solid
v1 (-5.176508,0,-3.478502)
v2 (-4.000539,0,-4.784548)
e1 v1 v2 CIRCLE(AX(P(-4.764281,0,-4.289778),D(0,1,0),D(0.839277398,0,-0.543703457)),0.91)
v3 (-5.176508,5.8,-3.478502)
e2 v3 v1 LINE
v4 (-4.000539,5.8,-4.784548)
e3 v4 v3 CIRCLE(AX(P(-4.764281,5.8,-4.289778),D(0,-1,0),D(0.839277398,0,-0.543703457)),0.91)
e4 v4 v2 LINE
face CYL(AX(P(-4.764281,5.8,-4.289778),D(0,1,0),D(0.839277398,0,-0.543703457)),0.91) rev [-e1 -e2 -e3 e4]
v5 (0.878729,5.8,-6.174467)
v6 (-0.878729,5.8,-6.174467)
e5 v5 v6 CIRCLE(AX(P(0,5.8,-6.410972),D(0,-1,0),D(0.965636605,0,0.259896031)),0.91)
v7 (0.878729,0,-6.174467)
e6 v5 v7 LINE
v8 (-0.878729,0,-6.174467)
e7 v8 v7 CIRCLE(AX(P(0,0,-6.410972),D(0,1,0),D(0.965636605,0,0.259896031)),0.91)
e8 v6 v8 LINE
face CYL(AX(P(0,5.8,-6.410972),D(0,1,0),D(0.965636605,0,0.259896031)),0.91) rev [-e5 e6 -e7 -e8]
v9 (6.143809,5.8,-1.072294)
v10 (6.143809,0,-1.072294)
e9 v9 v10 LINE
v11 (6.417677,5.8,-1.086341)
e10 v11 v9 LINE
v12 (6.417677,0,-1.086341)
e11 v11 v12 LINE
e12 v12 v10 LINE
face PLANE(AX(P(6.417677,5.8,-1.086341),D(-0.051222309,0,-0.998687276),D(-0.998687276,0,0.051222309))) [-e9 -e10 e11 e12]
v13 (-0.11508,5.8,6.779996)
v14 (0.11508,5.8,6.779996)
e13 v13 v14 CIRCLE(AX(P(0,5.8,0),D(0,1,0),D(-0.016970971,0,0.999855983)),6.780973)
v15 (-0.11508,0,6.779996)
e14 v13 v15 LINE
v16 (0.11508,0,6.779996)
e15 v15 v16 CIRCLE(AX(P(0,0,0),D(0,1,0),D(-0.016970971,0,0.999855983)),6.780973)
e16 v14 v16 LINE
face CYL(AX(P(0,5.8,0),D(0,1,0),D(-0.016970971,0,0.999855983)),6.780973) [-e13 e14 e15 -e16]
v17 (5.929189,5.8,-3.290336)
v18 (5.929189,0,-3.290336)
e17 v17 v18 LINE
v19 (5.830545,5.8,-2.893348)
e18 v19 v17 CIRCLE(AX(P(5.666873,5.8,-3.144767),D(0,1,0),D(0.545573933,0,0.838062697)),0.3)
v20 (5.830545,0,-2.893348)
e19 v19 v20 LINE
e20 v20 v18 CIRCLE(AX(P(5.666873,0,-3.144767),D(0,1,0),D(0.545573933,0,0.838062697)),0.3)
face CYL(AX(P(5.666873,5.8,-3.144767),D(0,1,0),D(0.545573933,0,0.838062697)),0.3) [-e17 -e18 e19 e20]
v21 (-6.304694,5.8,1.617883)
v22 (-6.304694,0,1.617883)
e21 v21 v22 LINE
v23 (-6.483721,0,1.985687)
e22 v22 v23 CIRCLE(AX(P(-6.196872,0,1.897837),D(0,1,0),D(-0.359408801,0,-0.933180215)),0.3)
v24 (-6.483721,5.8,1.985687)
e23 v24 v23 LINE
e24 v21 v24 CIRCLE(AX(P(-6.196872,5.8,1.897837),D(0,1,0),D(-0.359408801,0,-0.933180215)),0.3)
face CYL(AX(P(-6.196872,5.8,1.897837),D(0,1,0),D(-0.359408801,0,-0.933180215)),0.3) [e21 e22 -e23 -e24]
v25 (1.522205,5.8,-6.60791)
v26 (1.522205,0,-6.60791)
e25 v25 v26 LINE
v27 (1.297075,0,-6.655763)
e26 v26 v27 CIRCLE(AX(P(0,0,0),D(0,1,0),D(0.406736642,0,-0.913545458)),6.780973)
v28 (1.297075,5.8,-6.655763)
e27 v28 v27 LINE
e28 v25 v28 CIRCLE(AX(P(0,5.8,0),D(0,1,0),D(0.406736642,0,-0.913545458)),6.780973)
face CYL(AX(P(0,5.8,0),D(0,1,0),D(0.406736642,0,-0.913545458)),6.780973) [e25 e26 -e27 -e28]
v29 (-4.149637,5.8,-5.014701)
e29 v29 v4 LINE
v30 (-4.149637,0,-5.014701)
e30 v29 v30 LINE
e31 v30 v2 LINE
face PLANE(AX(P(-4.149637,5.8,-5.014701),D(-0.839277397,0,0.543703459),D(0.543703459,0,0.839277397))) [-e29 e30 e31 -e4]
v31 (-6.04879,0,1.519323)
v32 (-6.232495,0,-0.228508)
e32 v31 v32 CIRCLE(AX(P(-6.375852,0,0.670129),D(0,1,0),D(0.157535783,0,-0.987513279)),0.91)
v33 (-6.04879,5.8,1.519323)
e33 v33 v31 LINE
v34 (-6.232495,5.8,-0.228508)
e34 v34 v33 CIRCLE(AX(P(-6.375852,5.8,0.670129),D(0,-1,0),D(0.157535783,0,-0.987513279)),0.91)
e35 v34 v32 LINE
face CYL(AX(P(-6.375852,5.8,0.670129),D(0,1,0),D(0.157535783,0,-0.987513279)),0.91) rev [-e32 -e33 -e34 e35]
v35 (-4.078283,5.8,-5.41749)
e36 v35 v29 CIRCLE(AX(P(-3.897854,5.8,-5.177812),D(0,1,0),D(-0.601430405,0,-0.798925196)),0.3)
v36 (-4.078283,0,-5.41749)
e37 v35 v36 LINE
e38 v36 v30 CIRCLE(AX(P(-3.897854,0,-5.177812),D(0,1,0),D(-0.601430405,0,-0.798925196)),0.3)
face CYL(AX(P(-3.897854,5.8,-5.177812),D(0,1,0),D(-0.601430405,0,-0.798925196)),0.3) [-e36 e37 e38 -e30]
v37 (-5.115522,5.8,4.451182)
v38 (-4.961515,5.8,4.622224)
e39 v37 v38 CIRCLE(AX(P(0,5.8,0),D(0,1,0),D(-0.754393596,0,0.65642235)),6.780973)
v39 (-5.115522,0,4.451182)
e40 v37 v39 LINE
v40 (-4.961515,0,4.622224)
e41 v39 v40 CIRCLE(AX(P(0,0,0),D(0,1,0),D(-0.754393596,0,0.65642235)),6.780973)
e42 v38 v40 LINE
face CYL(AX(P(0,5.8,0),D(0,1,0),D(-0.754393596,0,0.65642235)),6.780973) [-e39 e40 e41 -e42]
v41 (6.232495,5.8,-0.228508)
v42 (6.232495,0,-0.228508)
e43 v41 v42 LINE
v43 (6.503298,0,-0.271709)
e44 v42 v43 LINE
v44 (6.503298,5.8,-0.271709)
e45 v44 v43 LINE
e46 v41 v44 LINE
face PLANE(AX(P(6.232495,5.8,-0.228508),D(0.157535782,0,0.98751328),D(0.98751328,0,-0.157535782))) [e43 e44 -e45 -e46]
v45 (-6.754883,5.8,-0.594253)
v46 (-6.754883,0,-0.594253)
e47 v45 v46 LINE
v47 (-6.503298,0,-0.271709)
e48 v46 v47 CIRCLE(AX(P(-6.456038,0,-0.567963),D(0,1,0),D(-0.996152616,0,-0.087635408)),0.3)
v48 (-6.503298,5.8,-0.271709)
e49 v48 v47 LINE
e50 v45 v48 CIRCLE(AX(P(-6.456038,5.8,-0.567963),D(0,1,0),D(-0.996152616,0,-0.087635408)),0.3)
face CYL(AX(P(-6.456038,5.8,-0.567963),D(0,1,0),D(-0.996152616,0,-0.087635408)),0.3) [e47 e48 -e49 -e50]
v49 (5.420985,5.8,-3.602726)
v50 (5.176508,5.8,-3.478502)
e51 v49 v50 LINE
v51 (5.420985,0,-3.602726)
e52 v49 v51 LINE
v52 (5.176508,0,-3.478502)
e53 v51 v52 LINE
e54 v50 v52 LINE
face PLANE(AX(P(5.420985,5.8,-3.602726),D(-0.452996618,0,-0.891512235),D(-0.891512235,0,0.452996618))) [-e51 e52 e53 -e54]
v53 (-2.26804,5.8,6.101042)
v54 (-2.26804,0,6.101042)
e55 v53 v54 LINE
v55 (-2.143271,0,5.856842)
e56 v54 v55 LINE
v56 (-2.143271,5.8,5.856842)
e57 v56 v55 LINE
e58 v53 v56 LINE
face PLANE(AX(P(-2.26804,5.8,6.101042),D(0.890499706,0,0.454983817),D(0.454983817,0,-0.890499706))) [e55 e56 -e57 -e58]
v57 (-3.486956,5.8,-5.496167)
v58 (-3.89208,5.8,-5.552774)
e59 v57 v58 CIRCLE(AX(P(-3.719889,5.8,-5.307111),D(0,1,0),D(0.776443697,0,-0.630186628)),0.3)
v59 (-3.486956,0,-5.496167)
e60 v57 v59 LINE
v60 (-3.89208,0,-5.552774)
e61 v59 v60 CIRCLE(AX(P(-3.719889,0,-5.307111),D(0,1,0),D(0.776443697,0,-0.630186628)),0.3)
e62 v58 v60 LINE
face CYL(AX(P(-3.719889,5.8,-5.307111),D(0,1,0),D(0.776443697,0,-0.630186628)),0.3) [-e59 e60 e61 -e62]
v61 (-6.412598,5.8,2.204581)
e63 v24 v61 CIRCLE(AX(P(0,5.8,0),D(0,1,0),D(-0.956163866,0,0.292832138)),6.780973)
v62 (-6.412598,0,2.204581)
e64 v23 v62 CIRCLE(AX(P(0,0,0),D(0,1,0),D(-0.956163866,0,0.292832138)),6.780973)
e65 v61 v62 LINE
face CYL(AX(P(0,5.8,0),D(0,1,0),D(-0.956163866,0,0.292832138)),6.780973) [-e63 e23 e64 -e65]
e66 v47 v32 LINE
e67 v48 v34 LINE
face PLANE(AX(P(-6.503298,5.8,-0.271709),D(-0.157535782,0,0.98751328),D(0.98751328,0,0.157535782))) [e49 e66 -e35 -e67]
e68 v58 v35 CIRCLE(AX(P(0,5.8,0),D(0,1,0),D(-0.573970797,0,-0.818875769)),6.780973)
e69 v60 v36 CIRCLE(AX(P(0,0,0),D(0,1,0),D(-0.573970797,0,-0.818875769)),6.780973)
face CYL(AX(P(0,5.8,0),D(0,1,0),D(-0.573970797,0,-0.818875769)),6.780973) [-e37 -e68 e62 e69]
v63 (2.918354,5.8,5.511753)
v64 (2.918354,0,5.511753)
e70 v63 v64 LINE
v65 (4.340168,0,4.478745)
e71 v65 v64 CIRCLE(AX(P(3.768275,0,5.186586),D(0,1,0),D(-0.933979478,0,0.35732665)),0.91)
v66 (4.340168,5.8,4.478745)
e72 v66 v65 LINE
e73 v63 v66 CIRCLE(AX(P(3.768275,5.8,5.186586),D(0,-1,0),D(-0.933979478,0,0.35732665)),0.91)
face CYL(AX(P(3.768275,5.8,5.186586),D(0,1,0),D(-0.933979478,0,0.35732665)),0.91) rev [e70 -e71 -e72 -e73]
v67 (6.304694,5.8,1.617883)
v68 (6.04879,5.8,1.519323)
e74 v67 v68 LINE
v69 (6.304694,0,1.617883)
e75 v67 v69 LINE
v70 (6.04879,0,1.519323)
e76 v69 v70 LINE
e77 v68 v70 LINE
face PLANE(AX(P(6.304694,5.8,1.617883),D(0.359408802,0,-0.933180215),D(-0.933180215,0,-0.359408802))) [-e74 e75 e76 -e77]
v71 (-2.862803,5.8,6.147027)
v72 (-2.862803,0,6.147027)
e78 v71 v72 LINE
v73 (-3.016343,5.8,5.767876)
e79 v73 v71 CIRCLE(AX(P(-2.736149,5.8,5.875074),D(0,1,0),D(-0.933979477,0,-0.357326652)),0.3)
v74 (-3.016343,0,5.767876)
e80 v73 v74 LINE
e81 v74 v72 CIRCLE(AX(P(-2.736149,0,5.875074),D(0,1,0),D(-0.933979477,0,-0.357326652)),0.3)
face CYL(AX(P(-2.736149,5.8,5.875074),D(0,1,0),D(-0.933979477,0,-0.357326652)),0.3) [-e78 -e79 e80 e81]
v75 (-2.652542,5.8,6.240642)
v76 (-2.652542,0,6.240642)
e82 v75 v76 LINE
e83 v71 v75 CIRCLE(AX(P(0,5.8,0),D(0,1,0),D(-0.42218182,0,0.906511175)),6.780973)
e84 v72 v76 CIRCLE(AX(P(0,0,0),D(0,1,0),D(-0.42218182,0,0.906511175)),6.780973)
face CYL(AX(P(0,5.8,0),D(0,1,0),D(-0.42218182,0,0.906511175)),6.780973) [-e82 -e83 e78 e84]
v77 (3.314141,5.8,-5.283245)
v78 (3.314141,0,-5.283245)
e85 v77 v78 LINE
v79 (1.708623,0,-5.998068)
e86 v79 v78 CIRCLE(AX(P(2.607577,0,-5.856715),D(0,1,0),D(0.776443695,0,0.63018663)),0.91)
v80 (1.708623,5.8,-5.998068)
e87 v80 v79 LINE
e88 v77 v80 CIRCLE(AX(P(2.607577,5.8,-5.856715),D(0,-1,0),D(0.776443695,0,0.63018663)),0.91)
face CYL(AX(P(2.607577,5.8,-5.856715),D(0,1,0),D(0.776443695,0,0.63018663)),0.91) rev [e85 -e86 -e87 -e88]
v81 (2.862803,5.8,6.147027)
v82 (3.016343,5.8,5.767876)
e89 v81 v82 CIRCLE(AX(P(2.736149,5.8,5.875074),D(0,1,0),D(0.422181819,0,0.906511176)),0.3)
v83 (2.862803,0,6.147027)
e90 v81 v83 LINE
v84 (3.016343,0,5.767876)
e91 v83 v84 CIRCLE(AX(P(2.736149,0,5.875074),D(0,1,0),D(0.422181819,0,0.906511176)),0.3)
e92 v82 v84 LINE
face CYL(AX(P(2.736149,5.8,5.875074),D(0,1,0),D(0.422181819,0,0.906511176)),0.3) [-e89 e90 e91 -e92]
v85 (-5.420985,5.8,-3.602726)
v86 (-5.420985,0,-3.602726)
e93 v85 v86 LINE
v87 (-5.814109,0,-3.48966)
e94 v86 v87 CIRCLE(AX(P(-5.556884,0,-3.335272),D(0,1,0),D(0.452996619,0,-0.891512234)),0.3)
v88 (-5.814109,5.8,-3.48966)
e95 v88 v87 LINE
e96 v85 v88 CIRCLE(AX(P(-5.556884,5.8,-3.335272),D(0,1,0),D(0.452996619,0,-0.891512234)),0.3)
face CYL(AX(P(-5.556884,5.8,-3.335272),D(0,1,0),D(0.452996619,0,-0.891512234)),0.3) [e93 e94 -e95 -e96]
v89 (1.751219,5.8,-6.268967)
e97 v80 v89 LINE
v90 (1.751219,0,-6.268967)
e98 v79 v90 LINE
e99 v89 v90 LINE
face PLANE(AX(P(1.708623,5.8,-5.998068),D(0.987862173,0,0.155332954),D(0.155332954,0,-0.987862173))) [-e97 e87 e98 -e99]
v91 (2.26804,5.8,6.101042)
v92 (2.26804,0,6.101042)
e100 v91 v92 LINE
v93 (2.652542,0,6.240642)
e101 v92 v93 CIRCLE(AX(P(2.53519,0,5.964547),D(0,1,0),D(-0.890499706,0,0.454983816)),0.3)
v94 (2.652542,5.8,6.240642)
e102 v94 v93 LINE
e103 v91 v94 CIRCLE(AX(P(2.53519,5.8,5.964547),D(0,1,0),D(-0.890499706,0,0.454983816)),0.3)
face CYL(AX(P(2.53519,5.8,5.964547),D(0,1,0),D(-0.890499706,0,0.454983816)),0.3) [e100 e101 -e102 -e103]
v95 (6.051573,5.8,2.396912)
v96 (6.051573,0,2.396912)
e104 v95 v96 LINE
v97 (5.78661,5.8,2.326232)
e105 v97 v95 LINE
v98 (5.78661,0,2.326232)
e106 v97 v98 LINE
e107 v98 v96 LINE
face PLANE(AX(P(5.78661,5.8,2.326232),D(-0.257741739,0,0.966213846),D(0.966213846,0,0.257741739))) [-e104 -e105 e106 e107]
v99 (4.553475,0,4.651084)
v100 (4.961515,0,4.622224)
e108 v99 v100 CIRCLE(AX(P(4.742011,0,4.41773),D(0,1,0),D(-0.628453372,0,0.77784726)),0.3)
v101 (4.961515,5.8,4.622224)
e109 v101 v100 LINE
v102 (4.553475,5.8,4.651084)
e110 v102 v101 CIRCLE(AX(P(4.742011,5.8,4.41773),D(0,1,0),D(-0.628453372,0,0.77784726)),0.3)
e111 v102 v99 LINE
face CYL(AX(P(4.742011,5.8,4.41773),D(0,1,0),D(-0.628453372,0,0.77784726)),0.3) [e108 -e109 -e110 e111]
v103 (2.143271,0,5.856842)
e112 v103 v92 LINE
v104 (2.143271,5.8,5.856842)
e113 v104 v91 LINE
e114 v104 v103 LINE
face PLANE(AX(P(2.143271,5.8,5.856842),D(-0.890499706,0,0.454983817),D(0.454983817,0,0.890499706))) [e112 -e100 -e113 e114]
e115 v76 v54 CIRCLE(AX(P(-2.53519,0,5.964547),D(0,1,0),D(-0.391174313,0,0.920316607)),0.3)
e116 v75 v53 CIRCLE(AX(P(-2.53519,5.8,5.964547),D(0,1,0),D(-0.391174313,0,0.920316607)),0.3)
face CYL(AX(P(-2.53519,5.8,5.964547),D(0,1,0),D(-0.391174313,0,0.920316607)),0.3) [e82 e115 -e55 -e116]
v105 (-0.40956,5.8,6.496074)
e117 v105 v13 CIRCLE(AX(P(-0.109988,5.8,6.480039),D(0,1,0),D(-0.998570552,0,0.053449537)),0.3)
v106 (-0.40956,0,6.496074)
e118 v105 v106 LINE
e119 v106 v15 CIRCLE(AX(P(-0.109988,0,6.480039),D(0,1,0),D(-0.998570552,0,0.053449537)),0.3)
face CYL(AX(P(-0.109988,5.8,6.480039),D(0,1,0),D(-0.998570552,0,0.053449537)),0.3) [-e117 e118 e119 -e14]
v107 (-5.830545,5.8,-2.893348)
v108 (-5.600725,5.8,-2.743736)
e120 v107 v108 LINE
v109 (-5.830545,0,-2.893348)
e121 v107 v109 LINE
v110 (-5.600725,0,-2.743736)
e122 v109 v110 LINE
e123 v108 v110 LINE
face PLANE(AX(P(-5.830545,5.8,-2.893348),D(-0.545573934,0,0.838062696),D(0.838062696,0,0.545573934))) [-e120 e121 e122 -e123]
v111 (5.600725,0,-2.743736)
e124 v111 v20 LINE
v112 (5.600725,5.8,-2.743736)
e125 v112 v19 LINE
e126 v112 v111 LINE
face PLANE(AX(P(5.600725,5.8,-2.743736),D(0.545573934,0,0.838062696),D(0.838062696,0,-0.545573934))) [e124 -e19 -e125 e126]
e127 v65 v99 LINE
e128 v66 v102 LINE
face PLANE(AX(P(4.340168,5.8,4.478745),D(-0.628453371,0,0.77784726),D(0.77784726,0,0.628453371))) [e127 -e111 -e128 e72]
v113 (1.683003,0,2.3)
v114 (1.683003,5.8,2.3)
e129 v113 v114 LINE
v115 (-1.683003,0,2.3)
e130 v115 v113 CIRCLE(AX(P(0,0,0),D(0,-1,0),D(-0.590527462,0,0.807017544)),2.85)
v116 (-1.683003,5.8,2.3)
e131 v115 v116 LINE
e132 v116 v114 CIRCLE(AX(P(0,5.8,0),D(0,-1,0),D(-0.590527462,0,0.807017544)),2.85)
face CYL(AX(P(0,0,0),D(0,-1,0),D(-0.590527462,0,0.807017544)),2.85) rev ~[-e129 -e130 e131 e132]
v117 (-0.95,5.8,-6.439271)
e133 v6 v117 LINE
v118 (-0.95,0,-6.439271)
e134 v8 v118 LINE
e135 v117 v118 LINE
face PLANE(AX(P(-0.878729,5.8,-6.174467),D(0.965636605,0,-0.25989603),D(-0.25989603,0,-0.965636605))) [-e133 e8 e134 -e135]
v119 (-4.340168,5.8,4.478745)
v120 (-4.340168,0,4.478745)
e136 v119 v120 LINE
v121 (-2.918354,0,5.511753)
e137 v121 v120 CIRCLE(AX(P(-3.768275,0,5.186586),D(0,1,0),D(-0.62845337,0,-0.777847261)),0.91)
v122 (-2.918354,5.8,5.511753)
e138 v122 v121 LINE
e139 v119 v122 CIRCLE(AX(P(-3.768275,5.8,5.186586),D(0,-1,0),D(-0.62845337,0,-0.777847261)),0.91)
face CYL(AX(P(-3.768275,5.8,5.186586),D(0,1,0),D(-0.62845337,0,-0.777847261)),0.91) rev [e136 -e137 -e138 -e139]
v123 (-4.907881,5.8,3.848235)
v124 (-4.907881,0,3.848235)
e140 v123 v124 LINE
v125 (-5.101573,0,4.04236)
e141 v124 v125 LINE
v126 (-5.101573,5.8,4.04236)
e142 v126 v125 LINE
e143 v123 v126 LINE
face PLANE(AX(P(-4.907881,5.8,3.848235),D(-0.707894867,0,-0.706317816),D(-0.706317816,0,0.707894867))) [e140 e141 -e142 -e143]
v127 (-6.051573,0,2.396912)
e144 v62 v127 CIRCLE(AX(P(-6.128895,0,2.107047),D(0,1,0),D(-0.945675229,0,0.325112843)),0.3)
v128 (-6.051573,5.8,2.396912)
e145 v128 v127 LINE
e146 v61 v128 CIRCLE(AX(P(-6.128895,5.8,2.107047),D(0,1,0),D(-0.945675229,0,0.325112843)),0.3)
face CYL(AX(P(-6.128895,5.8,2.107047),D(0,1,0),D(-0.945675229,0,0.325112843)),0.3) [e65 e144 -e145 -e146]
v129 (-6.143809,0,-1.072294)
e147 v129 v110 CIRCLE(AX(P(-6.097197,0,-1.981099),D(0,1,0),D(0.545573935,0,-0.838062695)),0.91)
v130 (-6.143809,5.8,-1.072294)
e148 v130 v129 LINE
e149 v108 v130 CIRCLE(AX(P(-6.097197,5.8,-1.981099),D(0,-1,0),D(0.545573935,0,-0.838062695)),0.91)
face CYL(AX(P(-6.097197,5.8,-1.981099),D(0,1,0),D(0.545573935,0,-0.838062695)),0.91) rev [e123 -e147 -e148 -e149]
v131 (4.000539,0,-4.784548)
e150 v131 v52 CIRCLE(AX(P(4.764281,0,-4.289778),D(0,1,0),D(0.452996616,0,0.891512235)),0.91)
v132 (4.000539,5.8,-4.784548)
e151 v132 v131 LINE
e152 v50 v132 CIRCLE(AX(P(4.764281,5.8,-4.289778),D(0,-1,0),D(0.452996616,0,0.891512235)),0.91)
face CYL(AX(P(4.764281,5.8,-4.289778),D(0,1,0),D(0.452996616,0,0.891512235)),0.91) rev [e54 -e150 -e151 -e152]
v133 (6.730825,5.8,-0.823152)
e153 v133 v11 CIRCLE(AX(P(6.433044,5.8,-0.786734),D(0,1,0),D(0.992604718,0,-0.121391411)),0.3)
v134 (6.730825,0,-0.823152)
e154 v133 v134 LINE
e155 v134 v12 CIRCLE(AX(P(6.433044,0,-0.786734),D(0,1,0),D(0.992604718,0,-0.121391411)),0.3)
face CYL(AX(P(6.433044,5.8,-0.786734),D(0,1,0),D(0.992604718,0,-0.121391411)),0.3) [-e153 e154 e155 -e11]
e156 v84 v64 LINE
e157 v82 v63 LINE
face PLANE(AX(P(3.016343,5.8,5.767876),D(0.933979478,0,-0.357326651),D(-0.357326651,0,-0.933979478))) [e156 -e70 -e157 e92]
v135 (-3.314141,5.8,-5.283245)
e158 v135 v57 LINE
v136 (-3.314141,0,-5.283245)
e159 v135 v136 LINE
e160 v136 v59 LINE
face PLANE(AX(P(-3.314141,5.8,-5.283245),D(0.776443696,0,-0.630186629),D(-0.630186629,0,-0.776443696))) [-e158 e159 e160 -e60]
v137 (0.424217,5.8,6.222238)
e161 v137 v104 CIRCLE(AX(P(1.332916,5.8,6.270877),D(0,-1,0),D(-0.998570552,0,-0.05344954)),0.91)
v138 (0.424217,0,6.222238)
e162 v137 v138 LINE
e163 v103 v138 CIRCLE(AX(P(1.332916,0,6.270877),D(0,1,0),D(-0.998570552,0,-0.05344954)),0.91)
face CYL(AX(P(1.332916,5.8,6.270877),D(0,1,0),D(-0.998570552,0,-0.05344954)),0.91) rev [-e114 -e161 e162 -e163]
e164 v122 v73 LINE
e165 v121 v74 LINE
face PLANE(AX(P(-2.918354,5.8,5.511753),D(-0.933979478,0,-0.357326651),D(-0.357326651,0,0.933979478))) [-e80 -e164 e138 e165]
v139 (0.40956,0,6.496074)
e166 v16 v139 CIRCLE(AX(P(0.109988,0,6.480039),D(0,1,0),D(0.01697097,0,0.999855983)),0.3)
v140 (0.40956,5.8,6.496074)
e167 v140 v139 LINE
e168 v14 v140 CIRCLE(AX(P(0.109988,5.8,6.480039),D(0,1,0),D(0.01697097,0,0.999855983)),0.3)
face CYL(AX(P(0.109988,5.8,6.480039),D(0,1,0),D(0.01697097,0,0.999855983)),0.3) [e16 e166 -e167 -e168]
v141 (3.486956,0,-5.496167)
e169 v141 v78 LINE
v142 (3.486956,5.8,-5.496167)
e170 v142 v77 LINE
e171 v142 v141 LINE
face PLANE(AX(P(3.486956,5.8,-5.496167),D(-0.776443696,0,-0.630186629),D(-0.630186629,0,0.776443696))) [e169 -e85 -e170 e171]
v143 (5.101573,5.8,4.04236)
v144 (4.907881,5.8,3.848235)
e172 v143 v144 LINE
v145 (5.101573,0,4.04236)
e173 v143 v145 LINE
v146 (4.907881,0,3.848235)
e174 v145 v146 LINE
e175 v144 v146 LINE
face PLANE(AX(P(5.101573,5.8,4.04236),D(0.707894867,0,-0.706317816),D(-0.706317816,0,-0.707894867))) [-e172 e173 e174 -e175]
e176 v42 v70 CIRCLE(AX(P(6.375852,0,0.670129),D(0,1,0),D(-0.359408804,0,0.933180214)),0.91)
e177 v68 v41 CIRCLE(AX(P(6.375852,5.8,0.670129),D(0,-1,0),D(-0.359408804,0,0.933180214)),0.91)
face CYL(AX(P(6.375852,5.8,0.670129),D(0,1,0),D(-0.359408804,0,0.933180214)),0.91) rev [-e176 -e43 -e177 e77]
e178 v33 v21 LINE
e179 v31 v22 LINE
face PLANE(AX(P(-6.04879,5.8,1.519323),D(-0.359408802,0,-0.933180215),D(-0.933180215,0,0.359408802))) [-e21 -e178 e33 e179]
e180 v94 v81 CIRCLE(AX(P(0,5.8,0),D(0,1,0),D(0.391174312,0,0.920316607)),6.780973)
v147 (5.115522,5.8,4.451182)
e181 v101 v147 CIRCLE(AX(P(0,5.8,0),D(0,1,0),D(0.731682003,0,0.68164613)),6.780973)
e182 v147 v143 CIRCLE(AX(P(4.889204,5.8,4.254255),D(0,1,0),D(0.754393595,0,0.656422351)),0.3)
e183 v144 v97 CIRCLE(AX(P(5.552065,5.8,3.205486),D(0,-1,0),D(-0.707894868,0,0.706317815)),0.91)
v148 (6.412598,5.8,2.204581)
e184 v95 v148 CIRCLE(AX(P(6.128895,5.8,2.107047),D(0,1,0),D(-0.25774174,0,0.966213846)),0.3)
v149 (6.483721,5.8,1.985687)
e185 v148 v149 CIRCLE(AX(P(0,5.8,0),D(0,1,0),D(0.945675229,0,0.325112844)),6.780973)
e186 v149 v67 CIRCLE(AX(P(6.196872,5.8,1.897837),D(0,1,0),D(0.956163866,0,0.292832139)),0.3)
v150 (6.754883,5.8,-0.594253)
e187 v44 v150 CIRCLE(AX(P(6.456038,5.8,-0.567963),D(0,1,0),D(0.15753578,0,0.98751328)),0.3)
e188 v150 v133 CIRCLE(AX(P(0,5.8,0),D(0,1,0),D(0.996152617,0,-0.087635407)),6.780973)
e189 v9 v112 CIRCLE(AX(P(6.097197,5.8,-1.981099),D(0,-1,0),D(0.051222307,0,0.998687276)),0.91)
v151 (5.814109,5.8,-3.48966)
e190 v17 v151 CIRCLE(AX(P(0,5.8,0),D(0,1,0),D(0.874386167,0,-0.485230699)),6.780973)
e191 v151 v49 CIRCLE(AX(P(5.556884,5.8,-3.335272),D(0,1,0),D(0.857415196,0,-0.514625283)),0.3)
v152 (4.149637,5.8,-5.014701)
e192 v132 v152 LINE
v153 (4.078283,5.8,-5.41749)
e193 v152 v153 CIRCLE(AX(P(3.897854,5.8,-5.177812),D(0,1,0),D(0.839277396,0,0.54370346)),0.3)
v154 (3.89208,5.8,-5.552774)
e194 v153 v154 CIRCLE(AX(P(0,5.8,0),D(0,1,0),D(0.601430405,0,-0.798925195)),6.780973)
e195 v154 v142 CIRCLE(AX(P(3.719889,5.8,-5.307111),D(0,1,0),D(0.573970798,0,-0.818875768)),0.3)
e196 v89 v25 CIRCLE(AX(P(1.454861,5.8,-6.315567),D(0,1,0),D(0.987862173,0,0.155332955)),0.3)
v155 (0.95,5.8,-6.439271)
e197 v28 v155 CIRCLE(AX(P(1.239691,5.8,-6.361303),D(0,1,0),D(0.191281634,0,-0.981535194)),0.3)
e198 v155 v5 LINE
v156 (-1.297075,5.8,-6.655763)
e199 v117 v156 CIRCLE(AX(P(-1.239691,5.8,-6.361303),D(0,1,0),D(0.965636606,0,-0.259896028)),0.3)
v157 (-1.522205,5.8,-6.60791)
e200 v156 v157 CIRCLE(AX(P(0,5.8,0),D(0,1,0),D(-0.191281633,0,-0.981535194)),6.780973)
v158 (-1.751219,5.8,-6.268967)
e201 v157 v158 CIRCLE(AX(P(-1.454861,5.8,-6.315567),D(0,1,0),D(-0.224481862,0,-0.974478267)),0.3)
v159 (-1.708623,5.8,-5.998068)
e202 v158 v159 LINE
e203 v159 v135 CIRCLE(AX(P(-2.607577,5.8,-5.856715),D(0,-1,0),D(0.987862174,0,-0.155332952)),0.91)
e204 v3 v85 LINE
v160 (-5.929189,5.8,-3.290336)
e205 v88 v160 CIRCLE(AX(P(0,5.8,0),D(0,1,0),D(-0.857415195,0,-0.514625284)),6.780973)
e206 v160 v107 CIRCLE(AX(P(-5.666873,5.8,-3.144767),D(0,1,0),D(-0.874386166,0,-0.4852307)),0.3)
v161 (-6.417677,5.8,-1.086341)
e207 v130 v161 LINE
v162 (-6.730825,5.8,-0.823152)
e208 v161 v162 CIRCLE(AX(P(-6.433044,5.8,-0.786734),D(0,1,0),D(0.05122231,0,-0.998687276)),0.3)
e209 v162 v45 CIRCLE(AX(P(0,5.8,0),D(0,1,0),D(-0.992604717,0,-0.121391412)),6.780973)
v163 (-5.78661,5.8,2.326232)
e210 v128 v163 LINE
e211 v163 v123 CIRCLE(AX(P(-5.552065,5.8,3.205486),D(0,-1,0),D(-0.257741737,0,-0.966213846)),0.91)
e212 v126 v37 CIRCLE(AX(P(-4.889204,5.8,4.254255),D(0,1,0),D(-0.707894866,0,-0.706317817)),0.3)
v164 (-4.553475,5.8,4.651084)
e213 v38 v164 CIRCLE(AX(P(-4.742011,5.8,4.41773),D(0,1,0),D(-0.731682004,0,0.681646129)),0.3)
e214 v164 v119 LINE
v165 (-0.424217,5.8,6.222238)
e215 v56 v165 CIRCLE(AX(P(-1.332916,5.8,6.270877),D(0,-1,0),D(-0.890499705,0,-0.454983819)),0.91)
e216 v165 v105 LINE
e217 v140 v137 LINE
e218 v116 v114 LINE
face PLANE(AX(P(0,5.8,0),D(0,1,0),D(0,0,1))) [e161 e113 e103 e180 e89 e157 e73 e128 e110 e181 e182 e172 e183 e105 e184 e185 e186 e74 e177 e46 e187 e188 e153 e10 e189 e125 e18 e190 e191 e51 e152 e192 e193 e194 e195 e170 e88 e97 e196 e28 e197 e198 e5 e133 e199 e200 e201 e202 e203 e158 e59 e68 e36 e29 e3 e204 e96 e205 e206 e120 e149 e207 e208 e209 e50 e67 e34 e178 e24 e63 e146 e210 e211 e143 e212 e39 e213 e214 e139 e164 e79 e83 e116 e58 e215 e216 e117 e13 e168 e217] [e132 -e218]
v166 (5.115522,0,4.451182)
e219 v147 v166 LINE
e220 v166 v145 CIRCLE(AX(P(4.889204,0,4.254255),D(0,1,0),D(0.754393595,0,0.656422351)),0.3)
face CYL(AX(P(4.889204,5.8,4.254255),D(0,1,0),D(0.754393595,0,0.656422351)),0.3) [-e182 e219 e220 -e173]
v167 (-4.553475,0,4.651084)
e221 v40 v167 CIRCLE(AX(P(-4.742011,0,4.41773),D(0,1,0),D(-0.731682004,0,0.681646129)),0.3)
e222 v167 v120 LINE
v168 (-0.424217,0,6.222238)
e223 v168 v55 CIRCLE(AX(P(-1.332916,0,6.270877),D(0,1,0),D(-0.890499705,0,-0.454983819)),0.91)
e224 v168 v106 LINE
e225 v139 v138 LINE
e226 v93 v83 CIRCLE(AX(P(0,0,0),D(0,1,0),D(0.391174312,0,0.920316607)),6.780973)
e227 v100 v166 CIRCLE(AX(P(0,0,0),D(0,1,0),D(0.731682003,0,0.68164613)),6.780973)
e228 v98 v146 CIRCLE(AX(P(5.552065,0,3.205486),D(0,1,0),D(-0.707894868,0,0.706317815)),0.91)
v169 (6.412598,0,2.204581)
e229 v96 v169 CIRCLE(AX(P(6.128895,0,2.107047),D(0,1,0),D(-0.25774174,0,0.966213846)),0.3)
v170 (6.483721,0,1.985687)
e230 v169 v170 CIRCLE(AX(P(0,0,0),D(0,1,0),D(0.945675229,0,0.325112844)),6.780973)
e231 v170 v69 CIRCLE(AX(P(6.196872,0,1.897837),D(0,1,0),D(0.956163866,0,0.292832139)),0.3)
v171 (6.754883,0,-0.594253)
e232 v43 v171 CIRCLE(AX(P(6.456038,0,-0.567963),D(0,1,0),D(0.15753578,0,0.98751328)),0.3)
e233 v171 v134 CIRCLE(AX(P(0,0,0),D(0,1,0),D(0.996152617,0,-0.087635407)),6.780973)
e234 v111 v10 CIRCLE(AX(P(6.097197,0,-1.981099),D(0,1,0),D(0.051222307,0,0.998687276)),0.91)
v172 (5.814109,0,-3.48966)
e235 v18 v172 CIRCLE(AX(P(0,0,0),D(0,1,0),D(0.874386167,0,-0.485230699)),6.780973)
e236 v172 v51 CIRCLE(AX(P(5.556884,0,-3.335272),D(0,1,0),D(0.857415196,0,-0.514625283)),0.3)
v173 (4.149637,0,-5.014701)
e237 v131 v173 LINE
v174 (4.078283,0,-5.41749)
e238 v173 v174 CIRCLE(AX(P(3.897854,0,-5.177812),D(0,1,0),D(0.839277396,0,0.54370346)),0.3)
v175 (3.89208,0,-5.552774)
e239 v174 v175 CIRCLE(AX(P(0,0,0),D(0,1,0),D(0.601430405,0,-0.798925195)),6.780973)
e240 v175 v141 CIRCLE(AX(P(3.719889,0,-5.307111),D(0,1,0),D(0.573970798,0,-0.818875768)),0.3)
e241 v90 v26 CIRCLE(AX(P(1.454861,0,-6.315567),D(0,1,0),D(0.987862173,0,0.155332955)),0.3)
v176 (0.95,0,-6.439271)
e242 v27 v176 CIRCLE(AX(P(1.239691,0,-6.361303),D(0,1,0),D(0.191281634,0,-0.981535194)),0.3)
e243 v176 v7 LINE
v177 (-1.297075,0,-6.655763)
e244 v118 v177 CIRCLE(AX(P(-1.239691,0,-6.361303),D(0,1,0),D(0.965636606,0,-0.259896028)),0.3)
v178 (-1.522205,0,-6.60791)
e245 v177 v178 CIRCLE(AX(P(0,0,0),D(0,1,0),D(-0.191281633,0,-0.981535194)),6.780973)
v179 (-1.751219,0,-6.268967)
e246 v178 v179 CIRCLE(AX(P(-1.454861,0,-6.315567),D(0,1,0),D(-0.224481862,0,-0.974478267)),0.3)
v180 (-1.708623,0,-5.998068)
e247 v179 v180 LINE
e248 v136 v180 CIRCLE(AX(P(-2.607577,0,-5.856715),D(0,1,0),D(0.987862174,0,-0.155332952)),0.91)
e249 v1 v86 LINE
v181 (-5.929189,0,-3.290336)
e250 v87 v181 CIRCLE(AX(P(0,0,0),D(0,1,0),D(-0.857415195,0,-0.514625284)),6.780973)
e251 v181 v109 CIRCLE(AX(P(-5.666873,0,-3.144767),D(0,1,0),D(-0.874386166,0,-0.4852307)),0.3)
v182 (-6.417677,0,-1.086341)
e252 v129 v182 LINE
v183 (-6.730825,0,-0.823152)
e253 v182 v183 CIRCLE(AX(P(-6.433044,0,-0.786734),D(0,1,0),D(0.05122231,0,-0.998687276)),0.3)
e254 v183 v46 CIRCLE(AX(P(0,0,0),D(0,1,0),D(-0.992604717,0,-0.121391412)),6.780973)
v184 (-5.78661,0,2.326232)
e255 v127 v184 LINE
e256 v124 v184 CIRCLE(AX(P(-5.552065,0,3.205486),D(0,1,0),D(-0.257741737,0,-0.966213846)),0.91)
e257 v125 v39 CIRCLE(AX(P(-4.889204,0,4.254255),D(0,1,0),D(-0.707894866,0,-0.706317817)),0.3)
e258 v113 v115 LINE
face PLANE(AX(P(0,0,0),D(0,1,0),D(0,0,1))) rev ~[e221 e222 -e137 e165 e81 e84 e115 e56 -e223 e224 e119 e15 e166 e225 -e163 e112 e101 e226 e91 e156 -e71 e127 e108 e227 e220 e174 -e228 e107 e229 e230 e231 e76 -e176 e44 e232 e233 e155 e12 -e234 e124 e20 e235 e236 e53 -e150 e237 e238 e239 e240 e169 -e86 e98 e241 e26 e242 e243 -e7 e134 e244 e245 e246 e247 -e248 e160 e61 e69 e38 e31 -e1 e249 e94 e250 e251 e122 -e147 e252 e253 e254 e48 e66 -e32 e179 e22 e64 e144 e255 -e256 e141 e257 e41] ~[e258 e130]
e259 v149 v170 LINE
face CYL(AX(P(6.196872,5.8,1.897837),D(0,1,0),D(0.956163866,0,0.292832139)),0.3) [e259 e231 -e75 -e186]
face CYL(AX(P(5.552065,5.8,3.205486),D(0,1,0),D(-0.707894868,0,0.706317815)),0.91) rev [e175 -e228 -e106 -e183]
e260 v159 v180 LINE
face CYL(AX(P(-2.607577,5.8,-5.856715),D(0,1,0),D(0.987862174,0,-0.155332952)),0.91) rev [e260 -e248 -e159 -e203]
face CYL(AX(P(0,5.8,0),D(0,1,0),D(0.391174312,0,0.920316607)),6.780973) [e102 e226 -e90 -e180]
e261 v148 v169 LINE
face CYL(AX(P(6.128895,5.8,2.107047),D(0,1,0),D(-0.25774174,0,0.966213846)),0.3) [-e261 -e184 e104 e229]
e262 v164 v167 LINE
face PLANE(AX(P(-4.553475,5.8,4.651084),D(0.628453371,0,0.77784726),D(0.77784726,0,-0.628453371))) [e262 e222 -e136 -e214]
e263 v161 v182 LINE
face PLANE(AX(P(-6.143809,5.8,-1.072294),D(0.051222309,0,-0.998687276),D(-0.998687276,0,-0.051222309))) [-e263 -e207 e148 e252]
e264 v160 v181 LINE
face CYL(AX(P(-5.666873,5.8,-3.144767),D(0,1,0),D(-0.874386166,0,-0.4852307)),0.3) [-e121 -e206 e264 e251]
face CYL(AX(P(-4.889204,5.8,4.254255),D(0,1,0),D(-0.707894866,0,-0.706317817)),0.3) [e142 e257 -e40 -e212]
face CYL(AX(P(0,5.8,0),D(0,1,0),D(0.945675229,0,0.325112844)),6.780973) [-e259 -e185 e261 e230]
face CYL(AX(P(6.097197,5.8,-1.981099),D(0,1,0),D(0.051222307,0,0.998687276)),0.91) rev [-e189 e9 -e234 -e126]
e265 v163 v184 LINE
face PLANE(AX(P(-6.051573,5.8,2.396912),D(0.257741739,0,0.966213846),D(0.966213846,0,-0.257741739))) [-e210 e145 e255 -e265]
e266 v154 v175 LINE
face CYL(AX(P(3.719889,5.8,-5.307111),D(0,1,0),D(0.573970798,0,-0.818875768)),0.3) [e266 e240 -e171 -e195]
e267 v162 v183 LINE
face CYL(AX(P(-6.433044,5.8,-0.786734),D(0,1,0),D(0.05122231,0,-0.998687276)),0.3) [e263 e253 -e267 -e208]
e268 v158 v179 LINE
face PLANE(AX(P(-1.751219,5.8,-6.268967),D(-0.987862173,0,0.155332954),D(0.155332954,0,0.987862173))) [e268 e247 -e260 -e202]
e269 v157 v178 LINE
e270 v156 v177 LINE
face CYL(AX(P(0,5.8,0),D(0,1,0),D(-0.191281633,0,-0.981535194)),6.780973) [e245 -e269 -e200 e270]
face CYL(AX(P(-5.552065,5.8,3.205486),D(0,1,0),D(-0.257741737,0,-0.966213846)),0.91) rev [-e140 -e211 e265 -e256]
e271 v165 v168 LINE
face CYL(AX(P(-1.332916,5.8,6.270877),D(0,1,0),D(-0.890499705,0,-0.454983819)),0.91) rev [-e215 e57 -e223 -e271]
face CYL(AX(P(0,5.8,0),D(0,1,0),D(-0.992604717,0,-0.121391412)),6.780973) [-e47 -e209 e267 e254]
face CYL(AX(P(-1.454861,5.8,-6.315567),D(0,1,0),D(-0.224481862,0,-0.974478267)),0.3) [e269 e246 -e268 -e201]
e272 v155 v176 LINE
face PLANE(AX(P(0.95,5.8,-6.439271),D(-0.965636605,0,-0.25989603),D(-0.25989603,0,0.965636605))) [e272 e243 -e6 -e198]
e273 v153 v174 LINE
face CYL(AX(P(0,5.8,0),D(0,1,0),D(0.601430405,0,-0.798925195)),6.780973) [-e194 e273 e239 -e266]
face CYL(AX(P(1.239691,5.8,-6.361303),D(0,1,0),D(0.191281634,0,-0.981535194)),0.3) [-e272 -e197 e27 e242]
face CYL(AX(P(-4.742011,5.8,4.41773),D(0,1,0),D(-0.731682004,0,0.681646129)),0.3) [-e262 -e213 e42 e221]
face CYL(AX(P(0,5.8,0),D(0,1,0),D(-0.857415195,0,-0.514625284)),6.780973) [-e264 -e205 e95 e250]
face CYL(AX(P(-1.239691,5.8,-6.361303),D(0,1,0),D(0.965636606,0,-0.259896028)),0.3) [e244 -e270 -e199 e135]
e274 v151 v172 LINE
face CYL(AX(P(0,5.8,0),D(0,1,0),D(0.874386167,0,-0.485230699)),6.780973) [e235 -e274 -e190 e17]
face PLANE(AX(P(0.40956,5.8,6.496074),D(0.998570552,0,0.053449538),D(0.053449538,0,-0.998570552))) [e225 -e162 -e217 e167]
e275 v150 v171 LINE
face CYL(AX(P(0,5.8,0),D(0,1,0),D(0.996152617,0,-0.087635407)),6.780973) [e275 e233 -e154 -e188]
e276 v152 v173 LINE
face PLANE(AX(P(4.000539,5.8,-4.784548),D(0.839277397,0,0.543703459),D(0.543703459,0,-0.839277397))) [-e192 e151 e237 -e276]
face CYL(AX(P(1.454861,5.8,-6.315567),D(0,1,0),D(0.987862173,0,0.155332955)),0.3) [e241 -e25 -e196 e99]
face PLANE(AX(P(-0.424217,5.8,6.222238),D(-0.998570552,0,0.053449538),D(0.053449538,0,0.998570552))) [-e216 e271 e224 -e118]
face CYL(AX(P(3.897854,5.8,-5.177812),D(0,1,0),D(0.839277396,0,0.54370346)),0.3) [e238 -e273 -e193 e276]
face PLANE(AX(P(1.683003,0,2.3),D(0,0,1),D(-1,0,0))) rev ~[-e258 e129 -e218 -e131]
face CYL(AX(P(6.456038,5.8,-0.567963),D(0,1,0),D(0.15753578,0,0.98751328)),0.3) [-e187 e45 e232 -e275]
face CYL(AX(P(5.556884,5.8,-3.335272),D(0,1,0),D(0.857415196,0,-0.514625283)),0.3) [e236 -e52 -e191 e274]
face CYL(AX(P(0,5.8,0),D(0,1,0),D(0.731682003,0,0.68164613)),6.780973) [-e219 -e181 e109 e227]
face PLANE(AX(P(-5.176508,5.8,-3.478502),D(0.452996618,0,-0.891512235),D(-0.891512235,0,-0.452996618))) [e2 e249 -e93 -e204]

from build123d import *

# Parameters (mm, degrees)
SKETCH1_R           = 7.161972439
BOSS_EXTRUDE1_DEPTH = 5.8
CUT_EXTRUDE1_DEPTH  = 12.671662197
CIRPATTERN1_COUNT   = 15
CUT_EXTRUDE2_DEPTH  = 12.192213007


with BuildPart() as part:
    # Sketch1 → Boss-Extrude1 (new body)
    with BuildSketch(Plane(origin=(0, 0, 0), x_dir=(1, 0, 0), z_dir=(0, 1, 0))):
        with Locations(Location((0, 0, 0), (0, 0, 270))):
            Circle(SKETCH1_R)
    extrude(amount=BOSS_EXTRUDE1_DEPTH)

    # Sketch2 → Cut-Extrude1 (cut, through all)
    with BuildSketch(Plane(origin=(0, 5.8, 0), x_dir=(1, 0, 0), z_dir=(0, 1, 0))):
        with BuildLine():
            Line((-0.878729311, 6.174467051), (-0.95, 6.439271351))
            ThreePointArc((-0.95, 6.439271351), (-1.080918358, 6.615843804), (-1.297075471, 6.6557631))
            ThreePointArc((-1.297075471, 6.6557631), (-2.040634656, 6.466637257), (-2.758069967, 6.19472657))
            Line((-2.758069967, 6.19472657), (-2.758069967, 7.161972439))
            Line((-2.758069967, 7.161972439), (2.758069967, 7.161972439))
            Line((2.758069967, 7.161972439), (2.758069967, 6.19472657))
            ThreePointArc((2.758069967, 6.19472657), (2.040634656, 6.466637257), (1.297075471, 6.6557631))
            ThreePointArc((1.297075471, 6.6557631), (1.080918358, 6.615843804), (0.95, 6.439271351))
            Line((0.95, 6.439271351), (0.878729311, 6.174467051))
            ThreePointArc((0.878729311, 6.174467051), (0, 5.500972439), (-0.878729311, 6.174467051))
        make_face()
    cut_extrude1 = extrude(amount=-CUT_EXTRUDE1_DEPTH, mode=Mode.SUBTRACT)

    # CirPattern1: Cut-Extrude1 ×15 about axis
    cirpattern1_axis = Axis((0, 0, 0), (0, 1, 0))
    for i in range(1, CIRPATTERN1_COUNT):
        add(cut_extrude1.rotate(cirpattern1_axis, i * 360 / CIRPATTERN1_COUNT), mode=Mode.SUBTRACT)

    # Sketch3 → Cut-Extrude2 (cut, through all)
    with BuildSketch(Plane.XZ):
        with BuildLine():
            Line((1.683003268, 2.3), (-1.683003268, 2.3))
            ThreePointArc((-1.683003268, 2.3), (0, -2.85), (1.683003268, 2.3))
        make_face()
    extrude(amount=-CUT_EXTRUDE2_DEPTH, mode=Mode.SUBTRACT)


solid = part.part
